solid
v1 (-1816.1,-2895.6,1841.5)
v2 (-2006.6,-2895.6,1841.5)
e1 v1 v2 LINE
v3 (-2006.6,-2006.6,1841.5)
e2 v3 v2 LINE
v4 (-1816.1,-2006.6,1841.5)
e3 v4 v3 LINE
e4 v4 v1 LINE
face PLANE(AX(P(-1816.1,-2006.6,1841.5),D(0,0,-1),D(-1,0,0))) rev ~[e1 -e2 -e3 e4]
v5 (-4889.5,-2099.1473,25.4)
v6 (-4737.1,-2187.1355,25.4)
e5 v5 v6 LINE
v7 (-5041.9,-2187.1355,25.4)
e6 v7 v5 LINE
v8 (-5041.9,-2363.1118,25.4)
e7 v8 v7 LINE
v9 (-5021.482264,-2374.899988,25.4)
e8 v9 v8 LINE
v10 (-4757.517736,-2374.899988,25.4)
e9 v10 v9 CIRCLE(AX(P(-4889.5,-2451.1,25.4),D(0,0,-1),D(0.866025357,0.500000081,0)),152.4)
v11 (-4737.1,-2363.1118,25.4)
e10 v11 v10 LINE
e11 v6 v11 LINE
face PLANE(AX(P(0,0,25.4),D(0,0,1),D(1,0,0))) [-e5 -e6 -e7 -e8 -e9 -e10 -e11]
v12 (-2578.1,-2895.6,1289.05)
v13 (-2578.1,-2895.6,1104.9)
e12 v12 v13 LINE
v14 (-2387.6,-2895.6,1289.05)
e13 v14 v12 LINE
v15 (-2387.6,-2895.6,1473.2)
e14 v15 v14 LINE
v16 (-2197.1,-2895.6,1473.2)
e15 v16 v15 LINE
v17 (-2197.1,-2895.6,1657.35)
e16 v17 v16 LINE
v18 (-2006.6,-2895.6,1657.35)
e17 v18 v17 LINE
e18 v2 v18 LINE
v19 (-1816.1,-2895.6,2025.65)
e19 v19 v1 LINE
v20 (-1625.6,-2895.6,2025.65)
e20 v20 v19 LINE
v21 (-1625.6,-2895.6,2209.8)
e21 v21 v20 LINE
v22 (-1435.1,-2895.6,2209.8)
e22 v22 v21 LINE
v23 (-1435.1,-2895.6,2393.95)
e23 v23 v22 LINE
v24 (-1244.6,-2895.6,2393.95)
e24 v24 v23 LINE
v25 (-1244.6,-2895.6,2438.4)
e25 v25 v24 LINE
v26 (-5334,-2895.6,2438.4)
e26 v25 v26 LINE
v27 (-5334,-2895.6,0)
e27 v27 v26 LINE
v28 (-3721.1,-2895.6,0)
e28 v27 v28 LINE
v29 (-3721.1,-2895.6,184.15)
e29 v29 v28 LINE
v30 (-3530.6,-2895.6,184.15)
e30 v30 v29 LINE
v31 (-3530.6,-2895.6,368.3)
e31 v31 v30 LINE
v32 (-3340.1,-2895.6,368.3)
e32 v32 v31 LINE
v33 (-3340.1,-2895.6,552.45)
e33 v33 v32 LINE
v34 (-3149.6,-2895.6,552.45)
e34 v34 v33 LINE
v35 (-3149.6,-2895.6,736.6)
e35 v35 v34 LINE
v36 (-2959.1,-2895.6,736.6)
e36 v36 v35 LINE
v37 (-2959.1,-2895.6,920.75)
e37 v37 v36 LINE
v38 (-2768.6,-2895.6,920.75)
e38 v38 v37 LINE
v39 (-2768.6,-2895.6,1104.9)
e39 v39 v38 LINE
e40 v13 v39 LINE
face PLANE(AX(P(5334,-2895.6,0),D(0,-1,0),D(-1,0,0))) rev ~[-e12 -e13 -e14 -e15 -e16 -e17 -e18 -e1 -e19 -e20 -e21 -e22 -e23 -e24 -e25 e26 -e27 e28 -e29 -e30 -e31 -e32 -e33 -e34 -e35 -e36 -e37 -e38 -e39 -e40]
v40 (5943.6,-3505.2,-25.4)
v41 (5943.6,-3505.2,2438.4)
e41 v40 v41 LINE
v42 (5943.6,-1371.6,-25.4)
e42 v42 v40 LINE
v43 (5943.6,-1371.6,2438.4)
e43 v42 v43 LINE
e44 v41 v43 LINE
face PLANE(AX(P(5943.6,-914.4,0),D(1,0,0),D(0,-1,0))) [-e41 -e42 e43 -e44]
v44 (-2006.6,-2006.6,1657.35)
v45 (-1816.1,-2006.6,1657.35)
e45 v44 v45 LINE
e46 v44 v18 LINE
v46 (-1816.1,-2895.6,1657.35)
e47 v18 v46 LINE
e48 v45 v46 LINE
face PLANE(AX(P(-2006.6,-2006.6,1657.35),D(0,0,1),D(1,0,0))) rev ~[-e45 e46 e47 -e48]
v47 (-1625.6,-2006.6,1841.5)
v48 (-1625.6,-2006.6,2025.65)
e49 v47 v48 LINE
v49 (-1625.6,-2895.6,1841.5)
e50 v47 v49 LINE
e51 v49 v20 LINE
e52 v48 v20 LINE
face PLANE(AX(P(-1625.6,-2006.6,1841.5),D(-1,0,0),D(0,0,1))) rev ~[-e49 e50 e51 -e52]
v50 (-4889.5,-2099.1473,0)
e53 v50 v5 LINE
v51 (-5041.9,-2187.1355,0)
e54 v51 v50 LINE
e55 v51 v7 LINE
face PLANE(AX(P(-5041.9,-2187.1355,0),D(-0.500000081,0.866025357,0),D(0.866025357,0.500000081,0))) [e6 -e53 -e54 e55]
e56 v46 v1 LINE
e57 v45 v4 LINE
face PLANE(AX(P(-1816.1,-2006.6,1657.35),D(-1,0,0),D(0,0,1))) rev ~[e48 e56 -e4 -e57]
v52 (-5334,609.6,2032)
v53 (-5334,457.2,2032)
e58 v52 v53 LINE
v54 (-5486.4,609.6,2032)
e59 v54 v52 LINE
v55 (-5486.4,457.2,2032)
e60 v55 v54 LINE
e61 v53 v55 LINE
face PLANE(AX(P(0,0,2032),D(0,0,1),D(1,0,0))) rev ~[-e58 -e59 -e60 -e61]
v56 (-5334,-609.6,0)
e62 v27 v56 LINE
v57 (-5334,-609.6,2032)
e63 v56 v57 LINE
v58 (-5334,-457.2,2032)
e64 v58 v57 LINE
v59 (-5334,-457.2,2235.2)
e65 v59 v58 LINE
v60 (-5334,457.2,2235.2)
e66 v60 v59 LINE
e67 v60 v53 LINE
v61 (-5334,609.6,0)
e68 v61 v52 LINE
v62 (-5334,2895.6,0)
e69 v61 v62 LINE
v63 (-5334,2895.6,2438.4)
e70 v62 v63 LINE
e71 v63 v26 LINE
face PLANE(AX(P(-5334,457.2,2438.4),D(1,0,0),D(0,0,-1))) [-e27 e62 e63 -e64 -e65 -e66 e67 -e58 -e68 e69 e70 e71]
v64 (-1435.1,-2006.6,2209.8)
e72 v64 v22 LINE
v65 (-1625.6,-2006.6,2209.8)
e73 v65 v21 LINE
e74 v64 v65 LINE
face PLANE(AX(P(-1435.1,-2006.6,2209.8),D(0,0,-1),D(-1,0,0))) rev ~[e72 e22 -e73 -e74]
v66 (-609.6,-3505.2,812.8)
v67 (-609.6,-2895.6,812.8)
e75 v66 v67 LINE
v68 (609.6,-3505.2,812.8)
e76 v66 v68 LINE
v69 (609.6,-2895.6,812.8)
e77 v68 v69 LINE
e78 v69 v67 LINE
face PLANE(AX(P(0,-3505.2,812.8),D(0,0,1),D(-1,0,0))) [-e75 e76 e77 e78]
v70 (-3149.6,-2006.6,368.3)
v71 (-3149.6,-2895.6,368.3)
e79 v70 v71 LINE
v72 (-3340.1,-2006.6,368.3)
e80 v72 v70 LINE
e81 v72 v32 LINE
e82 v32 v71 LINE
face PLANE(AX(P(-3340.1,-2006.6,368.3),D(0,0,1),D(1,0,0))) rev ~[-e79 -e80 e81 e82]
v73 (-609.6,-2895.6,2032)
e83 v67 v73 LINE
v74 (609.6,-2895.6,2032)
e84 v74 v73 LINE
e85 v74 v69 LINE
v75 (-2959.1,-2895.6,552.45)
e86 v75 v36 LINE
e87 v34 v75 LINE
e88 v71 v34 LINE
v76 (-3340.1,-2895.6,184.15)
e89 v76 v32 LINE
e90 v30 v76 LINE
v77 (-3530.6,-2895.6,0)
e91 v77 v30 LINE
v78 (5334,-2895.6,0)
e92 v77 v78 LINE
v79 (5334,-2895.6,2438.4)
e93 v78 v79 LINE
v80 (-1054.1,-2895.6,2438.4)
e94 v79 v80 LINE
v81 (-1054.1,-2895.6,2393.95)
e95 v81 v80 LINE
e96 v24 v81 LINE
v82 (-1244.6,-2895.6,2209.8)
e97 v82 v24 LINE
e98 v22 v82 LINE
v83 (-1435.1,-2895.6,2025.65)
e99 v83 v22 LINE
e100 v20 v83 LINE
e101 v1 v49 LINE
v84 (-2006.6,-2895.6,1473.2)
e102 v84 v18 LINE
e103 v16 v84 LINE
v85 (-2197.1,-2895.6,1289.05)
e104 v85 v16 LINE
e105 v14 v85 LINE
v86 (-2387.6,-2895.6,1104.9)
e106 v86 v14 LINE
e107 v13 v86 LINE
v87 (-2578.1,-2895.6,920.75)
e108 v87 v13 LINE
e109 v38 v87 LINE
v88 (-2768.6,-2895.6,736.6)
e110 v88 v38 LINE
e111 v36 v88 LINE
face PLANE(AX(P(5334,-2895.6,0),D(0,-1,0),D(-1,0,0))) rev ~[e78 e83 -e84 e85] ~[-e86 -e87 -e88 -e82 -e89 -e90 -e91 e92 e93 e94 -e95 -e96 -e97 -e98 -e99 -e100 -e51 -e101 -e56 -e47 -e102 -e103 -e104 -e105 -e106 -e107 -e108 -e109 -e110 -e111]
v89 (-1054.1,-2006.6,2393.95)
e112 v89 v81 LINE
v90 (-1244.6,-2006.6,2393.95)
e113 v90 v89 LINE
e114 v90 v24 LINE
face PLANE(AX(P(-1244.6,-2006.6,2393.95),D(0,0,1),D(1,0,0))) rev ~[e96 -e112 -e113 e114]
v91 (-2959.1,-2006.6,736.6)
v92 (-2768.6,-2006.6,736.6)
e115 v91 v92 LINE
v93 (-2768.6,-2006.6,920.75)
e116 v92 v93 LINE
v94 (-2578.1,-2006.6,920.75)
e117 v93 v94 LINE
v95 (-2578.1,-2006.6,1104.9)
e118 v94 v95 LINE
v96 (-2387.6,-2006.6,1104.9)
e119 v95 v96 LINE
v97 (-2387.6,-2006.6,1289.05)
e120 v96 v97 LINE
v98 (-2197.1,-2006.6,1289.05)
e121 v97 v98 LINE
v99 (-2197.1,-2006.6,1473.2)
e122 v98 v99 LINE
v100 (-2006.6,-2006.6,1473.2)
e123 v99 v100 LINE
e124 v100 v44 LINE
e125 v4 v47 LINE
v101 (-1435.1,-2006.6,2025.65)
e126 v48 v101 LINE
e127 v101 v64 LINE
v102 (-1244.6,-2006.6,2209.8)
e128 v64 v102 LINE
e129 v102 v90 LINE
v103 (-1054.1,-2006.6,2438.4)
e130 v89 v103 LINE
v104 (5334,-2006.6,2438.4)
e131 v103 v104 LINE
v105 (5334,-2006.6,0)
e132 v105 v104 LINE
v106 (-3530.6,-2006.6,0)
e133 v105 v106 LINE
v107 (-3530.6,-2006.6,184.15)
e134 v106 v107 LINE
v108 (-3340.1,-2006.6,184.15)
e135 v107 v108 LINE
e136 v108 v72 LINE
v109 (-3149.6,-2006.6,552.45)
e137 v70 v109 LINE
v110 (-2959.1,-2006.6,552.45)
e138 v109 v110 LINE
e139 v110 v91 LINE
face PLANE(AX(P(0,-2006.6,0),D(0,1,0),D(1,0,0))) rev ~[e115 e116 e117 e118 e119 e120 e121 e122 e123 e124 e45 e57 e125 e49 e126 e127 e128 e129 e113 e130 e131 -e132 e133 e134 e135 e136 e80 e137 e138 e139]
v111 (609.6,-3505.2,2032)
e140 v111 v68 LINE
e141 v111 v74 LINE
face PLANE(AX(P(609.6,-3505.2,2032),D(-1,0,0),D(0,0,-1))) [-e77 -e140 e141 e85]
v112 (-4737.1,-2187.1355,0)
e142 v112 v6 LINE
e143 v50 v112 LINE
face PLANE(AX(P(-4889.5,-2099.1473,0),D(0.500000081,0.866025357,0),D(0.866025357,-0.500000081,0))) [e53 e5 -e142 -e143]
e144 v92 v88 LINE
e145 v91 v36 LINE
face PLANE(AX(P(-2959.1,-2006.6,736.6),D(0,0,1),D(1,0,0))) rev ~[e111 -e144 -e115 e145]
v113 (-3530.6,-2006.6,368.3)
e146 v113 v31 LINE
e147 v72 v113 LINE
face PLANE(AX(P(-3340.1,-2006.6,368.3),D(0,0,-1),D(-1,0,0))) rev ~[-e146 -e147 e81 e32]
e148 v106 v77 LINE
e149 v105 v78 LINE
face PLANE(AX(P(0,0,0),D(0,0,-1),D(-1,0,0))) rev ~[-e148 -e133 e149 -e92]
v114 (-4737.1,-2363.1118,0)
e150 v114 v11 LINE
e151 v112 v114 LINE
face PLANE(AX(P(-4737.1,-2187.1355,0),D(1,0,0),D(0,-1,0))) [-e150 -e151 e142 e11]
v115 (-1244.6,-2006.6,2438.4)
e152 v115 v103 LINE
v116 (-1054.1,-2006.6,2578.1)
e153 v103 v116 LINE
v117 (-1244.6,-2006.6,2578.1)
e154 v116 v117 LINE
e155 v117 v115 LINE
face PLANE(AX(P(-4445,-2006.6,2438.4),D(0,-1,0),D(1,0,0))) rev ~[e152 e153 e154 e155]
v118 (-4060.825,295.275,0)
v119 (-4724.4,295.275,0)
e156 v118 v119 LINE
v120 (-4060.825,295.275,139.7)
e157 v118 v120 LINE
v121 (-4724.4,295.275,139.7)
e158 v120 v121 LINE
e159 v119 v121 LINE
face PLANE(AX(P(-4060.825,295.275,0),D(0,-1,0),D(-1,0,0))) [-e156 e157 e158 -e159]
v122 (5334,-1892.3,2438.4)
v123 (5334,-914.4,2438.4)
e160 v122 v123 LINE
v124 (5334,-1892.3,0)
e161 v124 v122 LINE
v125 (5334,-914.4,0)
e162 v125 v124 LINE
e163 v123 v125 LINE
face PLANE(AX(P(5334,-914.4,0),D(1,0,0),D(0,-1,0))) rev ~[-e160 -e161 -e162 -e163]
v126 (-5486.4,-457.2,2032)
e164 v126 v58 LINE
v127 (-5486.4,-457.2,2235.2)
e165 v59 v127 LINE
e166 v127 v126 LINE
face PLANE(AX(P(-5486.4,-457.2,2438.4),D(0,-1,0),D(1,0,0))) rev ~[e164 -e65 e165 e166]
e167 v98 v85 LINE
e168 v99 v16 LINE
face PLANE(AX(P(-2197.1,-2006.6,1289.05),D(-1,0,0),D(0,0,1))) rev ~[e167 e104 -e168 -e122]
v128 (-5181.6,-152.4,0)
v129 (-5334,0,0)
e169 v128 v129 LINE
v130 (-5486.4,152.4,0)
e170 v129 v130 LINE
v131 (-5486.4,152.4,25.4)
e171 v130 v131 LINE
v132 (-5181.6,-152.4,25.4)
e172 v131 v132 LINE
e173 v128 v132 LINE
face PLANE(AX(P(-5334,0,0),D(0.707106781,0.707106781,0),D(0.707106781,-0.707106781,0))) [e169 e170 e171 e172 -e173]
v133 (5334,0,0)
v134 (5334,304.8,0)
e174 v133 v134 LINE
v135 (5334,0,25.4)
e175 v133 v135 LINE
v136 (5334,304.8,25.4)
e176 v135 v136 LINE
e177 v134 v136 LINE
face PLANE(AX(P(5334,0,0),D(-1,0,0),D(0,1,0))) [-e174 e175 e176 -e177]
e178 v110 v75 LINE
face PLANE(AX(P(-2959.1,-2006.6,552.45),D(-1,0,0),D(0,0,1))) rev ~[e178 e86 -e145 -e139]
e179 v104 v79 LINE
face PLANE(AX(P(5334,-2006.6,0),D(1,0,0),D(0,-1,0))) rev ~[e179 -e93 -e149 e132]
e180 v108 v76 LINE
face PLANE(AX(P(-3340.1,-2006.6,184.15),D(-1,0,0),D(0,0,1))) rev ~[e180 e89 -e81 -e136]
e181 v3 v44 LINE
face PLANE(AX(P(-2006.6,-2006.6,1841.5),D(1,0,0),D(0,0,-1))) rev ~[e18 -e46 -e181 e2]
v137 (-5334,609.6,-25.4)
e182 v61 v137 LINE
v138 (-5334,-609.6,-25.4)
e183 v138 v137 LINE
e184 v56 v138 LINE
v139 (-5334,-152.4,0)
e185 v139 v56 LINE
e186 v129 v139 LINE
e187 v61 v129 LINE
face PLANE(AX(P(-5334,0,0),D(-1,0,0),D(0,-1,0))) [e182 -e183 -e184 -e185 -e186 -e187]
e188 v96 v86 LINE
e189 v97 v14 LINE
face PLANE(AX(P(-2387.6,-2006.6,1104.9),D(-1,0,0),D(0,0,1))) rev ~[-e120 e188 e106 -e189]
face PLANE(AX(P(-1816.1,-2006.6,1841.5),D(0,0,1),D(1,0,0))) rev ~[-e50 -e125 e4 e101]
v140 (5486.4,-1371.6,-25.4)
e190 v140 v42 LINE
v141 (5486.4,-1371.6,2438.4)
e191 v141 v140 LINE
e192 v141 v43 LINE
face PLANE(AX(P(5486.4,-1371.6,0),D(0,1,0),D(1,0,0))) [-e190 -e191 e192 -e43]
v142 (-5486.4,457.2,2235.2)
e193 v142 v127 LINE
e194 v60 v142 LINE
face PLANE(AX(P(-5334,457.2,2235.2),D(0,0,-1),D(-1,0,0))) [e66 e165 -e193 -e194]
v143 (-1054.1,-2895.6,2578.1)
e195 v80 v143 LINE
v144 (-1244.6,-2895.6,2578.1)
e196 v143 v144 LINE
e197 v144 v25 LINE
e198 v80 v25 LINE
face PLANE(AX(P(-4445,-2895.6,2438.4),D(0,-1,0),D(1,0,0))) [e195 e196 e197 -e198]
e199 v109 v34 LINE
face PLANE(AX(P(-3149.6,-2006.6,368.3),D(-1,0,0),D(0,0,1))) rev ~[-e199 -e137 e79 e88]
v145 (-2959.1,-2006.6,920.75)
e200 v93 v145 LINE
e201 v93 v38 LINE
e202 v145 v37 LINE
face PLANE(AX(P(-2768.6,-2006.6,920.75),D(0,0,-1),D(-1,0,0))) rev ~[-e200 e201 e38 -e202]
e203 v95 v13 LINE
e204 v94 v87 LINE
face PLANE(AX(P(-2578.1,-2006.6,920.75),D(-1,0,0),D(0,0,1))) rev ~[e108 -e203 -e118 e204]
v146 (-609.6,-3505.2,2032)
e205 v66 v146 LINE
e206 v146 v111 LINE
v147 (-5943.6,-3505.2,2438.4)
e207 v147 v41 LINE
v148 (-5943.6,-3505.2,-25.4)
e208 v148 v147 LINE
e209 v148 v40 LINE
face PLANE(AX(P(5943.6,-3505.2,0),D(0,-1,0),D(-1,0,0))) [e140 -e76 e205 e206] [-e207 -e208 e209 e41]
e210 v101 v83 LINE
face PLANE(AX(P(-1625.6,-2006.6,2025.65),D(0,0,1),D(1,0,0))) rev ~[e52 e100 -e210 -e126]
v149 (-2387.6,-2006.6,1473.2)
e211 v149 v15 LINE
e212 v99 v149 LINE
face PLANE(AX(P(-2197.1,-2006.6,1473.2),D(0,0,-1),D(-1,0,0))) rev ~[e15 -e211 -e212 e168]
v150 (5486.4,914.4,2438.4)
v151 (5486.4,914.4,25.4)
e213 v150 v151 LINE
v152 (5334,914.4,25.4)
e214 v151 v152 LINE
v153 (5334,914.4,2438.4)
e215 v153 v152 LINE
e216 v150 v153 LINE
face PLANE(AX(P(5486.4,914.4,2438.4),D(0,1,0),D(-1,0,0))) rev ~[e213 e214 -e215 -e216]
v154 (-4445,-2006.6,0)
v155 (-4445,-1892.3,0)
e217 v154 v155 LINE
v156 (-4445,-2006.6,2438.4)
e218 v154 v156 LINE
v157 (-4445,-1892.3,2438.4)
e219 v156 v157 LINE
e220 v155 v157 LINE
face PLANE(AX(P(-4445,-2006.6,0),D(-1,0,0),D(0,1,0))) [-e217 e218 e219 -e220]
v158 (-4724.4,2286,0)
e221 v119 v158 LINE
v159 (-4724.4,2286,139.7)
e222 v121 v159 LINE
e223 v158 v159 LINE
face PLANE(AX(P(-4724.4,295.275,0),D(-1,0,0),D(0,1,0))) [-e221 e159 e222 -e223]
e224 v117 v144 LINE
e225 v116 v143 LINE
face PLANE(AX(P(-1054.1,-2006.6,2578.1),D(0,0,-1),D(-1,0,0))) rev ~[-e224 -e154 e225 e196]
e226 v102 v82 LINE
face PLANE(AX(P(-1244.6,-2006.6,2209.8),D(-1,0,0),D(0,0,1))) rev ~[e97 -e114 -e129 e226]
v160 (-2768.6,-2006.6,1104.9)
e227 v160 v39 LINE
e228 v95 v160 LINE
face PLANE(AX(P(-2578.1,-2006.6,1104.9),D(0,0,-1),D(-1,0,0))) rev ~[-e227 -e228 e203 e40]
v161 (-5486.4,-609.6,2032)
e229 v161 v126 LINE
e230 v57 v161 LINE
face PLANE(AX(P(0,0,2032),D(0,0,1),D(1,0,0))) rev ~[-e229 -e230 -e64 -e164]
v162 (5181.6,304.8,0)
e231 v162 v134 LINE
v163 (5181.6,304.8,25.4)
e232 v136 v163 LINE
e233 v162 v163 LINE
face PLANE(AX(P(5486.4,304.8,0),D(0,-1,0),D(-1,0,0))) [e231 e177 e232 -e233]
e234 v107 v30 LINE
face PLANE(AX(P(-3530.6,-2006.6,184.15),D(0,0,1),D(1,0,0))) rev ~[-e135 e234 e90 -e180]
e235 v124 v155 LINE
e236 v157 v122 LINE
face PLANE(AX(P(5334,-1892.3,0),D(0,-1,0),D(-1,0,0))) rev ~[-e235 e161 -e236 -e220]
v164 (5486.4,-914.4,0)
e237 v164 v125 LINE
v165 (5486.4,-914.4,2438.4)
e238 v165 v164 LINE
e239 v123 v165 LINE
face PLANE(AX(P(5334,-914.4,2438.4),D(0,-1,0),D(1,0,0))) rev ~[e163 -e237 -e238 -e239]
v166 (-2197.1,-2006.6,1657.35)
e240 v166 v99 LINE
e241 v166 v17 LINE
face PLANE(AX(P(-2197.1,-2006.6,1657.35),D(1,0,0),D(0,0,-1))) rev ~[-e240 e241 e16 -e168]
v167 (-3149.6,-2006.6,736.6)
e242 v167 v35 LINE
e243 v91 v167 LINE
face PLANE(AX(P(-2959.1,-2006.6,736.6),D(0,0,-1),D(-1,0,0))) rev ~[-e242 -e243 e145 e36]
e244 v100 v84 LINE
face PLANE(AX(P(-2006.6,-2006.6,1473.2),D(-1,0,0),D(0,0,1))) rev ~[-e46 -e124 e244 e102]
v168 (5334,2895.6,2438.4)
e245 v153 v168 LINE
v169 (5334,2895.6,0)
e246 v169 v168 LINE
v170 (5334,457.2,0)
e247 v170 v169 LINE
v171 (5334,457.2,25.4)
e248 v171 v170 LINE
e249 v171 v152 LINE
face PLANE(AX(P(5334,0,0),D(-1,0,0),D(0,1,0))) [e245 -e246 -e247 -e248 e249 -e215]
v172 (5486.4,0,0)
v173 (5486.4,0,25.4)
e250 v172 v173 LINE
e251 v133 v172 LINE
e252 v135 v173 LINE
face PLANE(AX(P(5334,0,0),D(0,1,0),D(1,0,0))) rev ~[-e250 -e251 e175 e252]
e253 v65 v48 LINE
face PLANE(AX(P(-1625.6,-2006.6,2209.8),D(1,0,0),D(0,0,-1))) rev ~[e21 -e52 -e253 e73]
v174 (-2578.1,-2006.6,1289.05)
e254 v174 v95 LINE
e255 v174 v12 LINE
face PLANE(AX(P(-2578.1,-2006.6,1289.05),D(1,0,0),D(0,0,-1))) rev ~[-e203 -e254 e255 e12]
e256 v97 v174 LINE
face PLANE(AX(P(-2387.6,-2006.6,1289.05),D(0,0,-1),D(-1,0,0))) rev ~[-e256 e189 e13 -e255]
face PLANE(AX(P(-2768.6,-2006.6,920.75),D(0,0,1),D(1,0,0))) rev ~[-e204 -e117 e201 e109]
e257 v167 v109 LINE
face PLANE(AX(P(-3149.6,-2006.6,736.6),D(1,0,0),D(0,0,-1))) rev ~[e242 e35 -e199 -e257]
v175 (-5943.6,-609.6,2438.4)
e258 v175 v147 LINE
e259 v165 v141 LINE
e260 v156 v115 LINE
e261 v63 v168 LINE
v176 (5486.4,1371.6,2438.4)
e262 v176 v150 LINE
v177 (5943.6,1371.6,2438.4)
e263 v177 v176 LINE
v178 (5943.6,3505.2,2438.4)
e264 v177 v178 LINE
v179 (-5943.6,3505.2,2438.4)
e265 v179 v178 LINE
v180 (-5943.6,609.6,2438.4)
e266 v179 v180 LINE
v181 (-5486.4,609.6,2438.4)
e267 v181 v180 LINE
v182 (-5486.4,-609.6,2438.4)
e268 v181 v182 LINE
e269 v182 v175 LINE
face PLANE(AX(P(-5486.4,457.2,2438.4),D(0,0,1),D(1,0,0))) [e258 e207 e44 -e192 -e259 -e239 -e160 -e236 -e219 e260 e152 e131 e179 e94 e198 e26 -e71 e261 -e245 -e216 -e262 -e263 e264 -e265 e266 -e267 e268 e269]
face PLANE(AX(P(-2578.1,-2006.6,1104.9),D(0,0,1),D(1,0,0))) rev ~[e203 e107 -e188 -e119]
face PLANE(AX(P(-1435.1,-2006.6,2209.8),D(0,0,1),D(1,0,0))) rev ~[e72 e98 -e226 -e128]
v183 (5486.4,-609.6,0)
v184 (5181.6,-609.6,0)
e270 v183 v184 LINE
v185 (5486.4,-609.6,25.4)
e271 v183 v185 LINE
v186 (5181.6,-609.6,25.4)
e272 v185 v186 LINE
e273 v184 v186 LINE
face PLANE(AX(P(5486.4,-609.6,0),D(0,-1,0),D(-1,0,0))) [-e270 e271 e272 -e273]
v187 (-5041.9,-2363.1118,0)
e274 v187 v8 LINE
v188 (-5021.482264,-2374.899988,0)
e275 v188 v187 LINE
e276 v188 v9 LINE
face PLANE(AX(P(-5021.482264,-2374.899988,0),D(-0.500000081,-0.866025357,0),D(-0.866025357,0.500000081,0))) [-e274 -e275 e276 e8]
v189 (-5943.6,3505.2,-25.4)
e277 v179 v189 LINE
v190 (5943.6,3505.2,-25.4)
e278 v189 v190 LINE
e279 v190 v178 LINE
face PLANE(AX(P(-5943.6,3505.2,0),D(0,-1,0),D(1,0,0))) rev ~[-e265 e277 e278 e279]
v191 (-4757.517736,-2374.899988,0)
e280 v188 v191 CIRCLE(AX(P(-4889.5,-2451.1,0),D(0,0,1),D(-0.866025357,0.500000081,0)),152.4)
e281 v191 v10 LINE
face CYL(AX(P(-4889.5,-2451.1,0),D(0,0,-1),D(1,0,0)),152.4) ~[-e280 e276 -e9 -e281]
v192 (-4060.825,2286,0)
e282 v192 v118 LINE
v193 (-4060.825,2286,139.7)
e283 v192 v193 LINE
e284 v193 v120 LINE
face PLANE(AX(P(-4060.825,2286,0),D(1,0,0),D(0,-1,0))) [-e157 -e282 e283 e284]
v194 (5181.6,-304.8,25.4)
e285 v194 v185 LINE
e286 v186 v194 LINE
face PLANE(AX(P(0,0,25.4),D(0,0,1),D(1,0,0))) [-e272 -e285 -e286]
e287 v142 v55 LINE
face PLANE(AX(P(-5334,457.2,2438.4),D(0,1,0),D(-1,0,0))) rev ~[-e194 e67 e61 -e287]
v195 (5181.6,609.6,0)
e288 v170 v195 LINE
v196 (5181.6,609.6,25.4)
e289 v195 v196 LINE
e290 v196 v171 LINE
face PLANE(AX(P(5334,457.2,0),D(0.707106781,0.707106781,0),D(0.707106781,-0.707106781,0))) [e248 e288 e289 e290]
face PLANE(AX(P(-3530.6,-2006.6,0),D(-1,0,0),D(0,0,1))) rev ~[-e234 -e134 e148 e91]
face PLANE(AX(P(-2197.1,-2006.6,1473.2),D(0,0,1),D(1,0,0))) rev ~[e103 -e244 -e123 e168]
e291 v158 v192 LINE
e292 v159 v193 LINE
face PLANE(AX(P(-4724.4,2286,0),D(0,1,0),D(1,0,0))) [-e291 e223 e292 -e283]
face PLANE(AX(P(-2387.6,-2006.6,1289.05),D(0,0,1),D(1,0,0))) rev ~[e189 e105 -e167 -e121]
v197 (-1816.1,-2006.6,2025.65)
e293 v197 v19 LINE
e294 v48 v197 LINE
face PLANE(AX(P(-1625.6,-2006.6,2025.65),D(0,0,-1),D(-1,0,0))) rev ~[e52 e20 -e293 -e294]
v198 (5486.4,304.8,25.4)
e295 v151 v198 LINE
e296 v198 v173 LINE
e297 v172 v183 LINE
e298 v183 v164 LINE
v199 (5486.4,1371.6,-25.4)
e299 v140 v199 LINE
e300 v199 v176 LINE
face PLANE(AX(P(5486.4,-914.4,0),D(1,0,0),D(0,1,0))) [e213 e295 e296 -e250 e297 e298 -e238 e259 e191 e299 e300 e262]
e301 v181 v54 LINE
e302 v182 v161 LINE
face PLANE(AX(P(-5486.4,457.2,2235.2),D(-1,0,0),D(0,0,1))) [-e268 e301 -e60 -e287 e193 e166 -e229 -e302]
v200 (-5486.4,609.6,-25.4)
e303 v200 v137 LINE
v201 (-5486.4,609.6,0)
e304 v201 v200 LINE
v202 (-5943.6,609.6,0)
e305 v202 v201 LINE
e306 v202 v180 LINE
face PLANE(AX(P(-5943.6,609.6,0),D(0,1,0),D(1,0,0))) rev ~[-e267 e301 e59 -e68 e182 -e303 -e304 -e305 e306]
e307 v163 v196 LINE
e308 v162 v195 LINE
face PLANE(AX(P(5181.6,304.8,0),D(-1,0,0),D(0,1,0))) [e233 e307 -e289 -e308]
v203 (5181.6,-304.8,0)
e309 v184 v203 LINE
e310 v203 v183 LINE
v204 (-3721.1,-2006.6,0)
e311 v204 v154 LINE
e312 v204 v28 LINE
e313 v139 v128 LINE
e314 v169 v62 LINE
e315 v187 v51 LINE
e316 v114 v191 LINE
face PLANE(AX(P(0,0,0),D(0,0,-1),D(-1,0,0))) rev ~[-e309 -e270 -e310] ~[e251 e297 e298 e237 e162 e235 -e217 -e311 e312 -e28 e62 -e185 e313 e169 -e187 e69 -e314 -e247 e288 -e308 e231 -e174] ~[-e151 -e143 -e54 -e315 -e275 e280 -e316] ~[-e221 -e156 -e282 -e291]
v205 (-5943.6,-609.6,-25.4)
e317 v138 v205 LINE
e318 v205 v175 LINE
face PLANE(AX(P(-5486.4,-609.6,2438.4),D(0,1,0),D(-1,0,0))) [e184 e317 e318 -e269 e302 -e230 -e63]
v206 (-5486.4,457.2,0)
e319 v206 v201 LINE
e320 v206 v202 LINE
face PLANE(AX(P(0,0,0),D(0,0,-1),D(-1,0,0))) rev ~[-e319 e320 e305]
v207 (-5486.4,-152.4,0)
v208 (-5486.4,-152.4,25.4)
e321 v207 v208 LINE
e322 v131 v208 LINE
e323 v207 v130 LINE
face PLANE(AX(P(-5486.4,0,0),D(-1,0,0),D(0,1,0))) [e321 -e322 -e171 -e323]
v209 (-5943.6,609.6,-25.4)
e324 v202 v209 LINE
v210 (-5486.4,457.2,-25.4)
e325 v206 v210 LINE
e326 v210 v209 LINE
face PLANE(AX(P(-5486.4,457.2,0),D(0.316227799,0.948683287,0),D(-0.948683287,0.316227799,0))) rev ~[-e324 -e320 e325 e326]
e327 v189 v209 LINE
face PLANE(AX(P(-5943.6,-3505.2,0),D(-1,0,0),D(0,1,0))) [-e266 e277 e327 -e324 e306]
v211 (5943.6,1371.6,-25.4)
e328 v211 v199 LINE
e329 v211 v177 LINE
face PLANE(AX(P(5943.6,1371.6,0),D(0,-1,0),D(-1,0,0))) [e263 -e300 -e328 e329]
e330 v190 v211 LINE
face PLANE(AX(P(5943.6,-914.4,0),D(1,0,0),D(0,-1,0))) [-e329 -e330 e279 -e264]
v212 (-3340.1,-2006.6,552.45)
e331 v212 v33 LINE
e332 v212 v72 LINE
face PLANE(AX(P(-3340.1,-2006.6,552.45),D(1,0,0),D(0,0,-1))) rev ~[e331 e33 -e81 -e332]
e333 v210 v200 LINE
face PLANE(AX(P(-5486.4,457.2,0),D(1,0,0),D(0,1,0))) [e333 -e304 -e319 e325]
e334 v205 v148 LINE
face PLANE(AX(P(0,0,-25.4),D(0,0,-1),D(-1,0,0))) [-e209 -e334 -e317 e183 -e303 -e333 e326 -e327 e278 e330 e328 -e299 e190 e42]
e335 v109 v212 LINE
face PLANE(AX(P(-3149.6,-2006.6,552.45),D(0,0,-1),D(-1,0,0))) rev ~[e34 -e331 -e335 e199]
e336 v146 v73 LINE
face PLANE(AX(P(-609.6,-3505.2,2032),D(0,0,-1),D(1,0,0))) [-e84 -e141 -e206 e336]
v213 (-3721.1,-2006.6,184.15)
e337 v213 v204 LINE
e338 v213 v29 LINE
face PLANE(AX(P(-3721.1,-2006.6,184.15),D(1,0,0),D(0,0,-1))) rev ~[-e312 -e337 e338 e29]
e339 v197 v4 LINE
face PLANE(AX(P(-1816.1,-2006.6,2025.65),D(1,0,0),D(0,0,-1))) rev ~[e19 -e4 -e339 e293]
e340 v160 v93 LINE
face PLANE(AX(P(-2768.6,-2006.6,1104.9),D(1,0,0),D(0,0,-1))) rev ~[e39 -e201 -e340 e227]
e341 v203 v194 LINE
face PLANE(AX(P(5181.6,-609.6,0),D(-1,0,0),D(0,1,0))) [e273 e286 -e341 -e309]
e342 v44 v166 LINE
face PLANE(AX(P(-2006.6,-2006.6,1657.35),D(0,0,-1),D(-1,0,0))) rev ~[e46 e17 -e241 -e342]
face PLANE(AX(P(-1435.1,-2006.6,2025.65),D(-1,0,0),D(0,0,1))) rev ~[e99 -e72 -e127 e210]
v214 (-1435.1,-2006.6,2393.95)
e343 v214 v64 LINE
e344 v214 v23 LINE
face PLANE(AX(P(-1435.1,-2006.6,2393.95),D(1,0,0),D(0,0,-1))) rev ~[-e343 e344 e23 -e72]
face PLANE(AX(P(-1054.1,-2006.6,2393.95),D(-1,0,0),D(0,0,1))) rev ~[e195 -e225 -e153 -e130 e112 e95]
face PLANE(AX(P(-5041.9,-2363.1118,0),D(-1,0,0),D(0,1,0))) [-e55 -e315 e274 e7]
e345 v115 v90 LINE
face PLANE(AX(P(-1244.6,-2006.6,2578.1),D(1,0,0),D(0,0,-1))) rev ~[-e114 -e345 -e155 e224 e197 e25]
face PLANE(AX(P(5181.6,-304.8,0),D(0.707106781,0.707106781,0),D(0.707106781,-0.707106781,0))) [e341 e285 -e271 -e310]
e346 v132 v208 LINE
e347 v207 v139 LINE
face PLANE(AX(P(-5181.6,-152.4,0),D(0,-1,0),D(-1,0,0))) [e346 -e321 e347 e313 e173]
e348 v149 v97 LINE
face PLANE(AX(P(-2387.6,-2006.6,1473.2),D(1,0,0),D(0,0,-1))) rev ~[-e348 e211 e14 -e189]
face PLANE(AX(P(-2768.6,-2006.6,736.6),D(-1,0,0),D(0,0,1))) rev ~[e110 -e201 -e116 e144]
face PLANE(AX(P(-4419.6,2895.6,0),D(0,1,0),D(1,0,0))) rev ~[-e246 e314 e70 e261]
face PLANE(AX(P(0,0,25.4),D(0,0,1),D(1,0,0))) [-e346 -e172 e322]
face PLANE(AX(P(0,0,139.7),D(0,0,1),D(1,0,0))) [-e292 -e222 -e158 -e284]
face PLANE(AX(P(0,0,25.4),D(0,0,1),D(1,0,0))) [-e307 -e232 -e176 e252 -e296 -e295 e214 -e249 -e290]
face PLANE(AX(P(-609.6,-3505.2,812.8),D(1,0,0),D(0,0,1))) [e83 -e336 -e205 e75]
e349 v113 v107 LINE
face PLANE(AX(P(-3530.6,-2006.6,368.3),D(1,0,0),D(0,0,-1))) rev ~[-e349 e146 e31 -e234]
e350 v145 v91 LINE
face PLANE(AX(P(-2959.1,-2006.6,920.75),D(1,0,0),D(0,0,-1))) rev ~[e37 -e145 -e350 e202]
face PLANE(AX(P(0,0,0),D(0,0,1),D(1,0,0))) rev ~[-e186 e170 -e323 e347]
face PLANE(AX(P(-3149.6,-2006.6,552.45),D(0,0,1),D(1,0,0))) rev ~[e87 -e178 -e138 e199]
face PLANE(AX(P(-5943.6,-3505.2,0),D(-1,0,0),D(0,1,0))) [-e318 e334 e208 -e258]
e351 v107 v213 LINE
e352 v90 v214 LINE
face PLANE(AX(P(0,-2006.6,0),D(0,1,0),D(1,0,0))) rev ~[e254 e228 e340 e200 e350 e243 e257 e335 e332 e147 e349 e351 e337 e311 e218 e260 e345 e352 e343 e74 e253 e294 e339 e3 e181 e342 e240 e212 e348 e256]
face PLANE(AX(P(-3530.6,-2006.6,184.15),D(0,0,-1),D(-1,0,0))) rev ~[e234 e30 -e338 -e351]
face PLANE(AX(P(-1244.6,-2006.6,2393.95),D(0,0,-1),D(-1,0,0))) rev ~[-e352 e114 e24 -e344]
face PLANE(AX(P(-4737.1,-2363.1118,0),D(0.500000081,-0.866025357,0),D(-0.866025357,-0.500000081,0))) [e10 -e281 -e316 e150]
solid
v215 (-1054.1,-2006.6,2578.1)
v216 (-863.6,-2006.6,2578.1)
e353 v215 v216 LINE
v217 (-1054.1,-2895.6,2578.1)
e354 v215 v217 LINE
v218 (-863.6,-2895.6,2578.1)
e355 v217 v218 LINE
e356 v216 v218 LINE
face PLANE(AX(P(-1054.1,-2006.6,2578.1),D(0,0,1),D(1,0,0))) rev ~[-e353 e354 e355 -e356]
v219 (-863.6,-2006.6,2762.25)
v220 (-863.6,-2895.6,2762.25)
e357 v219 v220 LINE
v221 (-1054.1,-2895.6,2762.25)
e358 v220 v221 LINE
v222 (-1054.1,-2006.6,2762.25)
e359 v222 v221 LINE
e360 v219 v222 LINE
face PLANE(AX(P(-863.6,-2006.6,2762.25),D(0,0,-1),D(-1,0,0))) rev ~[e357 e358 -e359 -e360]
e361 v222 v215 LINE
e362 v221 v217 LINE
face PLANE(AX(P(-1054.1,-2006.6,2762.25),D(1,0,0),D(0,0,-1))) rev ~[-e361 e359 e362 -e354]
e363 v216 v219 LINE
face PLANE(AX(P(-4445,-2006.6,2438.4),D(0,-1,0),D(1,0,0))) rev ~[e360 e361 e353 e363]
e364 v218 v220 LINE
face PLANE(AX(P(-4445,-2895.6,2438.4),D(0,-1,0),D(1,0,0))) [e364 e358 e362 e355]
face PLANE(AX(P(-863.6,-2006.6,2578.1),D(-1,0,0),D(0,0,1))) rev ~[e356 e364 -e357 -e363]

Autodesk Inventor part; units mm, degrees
ref_plane "YZ Plane" through (0, 0, 0) normal (1, 0, 0) x (0, 1, 0)
ref_plane "XZ Plane" through (0, 0, 0) normal (0, 1, 0) x (-1, 0, 0)
ref_plane "XY Plane" through (0, 0, 0) normal (0, 0, 1) x (1, 0, 0)
sketch "Sketch1" plane through (0, 0, 0) normal (0, 0, 1) x (1, 0, 0)
  line L0 (-8321.04, 0) -> (8321.04, 0) projected
  line L1 (-5943.6, 3505.2) -> (5943.6, 3505.2)
  line L2 (-5334, 2895.6) -> (5334, 2895.6)
  line L3 (-4572, 2895.6) -> (-4419.6, 2895.6)
  line L4 (-1981.2, -2006.6) -> (-4445, -2006.6)
  line L5 (-4445, -2006.6) -> (-4445, -1892.3)
  line L6 (-1219.2, -2895.6) -> (-1066.8, -2895.6)
  line L7 (5334, -2895.6) -> (0, -2895.6)
  line L8 (0, -2895.6) -> (-5334, -2895.6)
  line L9 (5943.6, -3505.2) -> (0, -3505.2)
  line L10 (0, -3505.2) -> (-5943.6, -3505.2)
  line L11 (5334, 914.4) -> (5943.6, 914.4)
  line L12 (5943.6, -914.4) -> (5334, -914.4)
  line L13 (5334, 2895.6) -> (5334, 914.4)
  line L14 (5334, -914.4) -> (5334, -2895.6)
  line L15 (5943.6, 3505.2) -> (5943.6, 914.4)
  line L16 (5943.6, -914.4) -> (5943.6, -3505.2)
  line L17 (-4445, -2006.6) -> (5334, -2006.6)
  line L18 (5334, -1892.3) -> (-4445, -1892.3)
  line L19 (-4445, -1892.3) -> (-4445, -2006.6)
  line L20 (5334, -1892.3) -> (5334, -2006.6)
  line L21 (-5943.6, 609.6) -> (-5334, 609.6)
  line L22 (-5334, -609.6) -> (-5943.6, -609.6)
  line L23 (-5943.6, -3505.2) -> (-5943.6, -609.6)
  line L24 (-5943.6, 609.6) -> (-5943.6, 3505.2)
  line L25 (-5334, -2895.6) -> (-5334, -609.6)
  line L26 (-5334, 609.6) -> (-5334, 2895.6)
  line L27 (-4445, -2006.6) -> (-4419.6, -2006.6)
  line L28 (-4419.6, 2895.6) -> (-4572, 2895.6)
  line L29 (-4445, -1892.3) -> (-4445, -2006.6)
  line L30 (0, -4907.28) -> (0, 4907.28) projected
  dimension "d202" = 0
  dimension "d18" = 7010.4
  dimension "d19" = 609.6
  dimension "d20" = 609.6
  dimension "d23" = 1828.8
  dimension "d24" = 2590.8
  dimension "d25" = 609.6
  dimension "d28" = 114.3
  dimension "d29" = 0
  dimension "d34" = 1219.2
  dimension "d35" = 2895.6
  dimension "d36" = 609.6
  dimension "d46" = 889
  dimension "d105" = 889
  dimension "d106" = 11887.2
extrude "Extrusion9" add sketch "Sketch1" along normal blind 2438.4 contours L18 L14 L17 L30 | L30 L17 L4 L5 L18 | L1 L30 L2 L26 L21 L24 | L1 L15 L11 L13 L2 L30 | L14 L12 L16 L9 L30 L7 | L30 L10 L23 L22 L25 L8 L6
sketch "Sketch8" plane through (0, 0, 0) normal (0, 0, -1) x (-1, 0, 0)
  line L0 (5943.6, 3505.2) -> (-5943.6, 3505.2) projected
  line L1 (-5943.6, 3505.2) -> (-5943.6, 914.4) projected
  line L2 (-5943.6, 914.4) -> (-5334, 914.4) projected
  line L3 (-5334, 914.4) -> (-5334, 2895.6) projected
  line L4 (-5334, 2895.6) -> (5334, 2895.6) projected
  line L5 (5334, 2895.6) -> (5334, 609.6) projected
  line L6 (5334, 609.6) -> (5943.6, 609.6) projected
  line L7 (5943.6, 609.6) -> (5943.6, 3505.2) projected
  line L8 (-5943.6, 3505.2) -> (5943.6, 3505.2)
  line L9 (5943.6, 3505.2) -> (5943.6, -3505.2)
  line L10 (5943.6, -3505.2) -> (-5943.6, -3505.2)
  line L11 (-5943.6, -3505.2) -> (-5943.6, 3505.2)
  point P0 (0, 0)
extrude "Extrusion10" add sketch "Sketch8" along normal blind 25.4
sketch "Sketch9" plane through (0, 0, 2438.4) normal (0, 0, 1) x (1, 0, 0)
  line L0 (5943.6, 3505.2) -> (-5943.6, 3505.2) projected
  line L1 (-5943.6, 3505.2) -> (-5943.6, 609.6) projected
  line L2 (-5943.6, 609.6) -> (-5334, 609.6) projected
  line L3 (-5334, 609.6) -> (-5334, 2895.6) projected
  line L4 (-5334, 2895.6) -> (5334, 2895.6) projected
  line L5 (5334, 2895.6) -> (5334, 914.4) projected
  line L6 (5334, 914.4) -> (5943.6, 914.4) projected
  line L7 (5943.6, 914.4) -> (5943.6, 3505.2) projected
  line L8 (-5943.6, 609.6) -> (-5334, 609.6)
  line L9 (-5334, 609.6) -> (-5334, -609.6)
  line L10 (-5334, -609.6) -> (-5943.6, -609.6)
  line L11 (-5943.6, -609.6) -> (-5943.6, 609.6)
  line L12 (5334, 914.4) -> (5943.6, 914.4)
  line L13 (5943.6, 914.4) -> (5943.6, -914.4)
  line L14 (5943.6, -914.4) -> (5334, -914.4)
  line L15 (5334, -914.4) -> (5334, 914.4)
  point P0 (0, 0)
extrude "Extrusion11" add sketch "Sketch9" against normal blind 406.4 contours L13 L14 L15 L6 | L2 L9 L10 L11
sketch "Sketch10" plane through (-4445, -2006.6, 2438.4) normal (0, -1, 0) x (1, 0, 0)
  line L0 (0, -2438.4) -> (9779, -2438.4) projected
  line L1 (0, -2438.4) -> (0, 0) projected
  line L2 (723.9, -2438.4) -> (914.4, -2438.4)
  line L3 (914.4, -2438.4) -> (914.4, -2254.25)
  line L4 (914.4, -2254.25) -> (723.9, -2254.25)
  line L5 (723.9, -2254.25) -> (723.9, -2438.4)
  line L6 (914.4, -2254.25) -> (1104.9, -2254.25)
  line L7 (1104.9, -2254.25) -> (1104.9, -2070.1)
  line L8 (1104.9, -2070.1) -> (914.4, -2070.1)
  line L9 (914.4, -2070.1) -> (914.4, -2254.25)
  line L10 (1104.9, -2070.1) -> (1295.4, -2070.1)
  line L11 (1295.4, -2070.1) -> (1295.4, -1885.95)
  line L12 (1295.4, -1885.95) -> (1104.9, -1885.95)
  line L13 (1104.9, -1885.95) -> (1104.9, -2070.1)
  line L14 (1295.4, -1885.95) -> (1485.9, -1885.95)
  line L15 (1485.9, -1885.95) -> (1485.9, -1701.8)
  line L16 (1485.9, -1701.8) -> (1295.4, -1701.8)
  line L17 (1295.4, -1701.8) -> (1295.4, -1885.95)
  line L18 (1485.9, -1701.8) -> (1676.4, -1701.8)
  line L19 (1676.4, -1701.8) -> (1676.4, -1517.65)
  line L20 (1676.4, -1517.65) -> (1485.9, -1517.65)
  line L21 (1485.9, -1517.65) -> (1485.9, -1701.8)
  line L22 (1676.4, -1517.65) -> (1866.9, -1517.65)
  line L23 (1866.9, -1517.65) -> (1866.9, -1333.5)
  line L24 (1866.9, -1333.5) -> (1676.4, -1333.5)
  line L25 (1676.4, -1333.5) -> (1676.4, -1517.65)
  line L26 (1866.9, -1333.5) -> (2057.4, -1333.5)
  line L27 (2057.4, -1333.5) -> (2057.4, -1149.35)
  line L28 (2057.4, -1149.35) -> (1866.9, -1149.35)
  line L29 (1866.9, -1149.35) -> (1866.9, -1333.5)
  line L30 (2438.4, -965.2) -> (2438.4, -781.05)
  line L31 (2247.9, -1149.35) -> (2247.9, -965.2)
  line L32 (2247.9, -965.2) -> (2438.4, -965.2)
  line L33 (2438.4, -781.05) -> (2247.9, -781.05)
  line L34 (2247.9, -781.05) -> (2247.9, -965.2)
  line L35 (2057.4, -1149.35) -> (2247.9, -1149.35)
  line L36 (2247.9, -965.2) -> (2057.4, -965.2)
  line L37 (2057.4, -965.2) -> (2057.4, -1149.35)
  line L38 (2628.9, -781.05) -> (2628.9, -596.9)
  line L39 (2438.4, -781.05) -> (2628.9, -781.05)
  line L40 (2628.9, -596.9) -> (2438.4, -596.9)
  line L41 (2438.4, -596.9) -> (2438.4, -781.05)
  line L42 (3200.4, -228.6) -> (3200.4, -44.45)
  line L43 (3200.4, 139.7) -> (3200.4, -44.45)
  line L44 (3200.4, -44.45) -> (3390.9, -44.45)
  line L45 (3390.9, 139.7) -> (3200.4, 139.7)
  line L46 (3009.9, -44.45) -> (3009.9, -228.6)
  line L47 (3009.9, -228.6) -> (3200.4, -228.6)
  line L48 (3200.4, -44.45) -> (3009.9, -44.45)
  line L49 (3390.9, -44.45) -> (3390.9, 139.7)
  line L50 (3009.9, -412.75) -> (3009.9, -228.6)
  line L51 (3009.9, -228.6) -> (2819.4, -228.6)
  line L52 (2819.4, -412.75) -> (3009.9, -412.75)
  line L53 (2819.4, -228.6) -> (2819.4, -412.75)
  line L54 (2819.4, -596.9) -> (2819.4, -412.75)
  line L55 (2819.4, -412.75) -> (2628.9, -412.75)
  line L56 (2628.9, -596.9) -> (2819.4, -596.9)
  line L57 (2628.9, -412.75) -> (2628.9, -596.9)
  line L58 (3390.9, 139.7) -> (3581.4, 139.7)
  line L59 (3581.4, 139.7) -> (3581.4, 323.85)
  line L60 (3581.4, 323.85) -> (3390.9, 323.85)
  line L61 (3390.9, 323.85) -> (3390.9, 139.7)
  point P0 (8445.5, -2438.4)
  point P1 (4445, -2438.4)
  dimension "d113" = 190.5
  dimension "d115" = 184.15
  dimension "d116" = 723.9
  dimension "d117" = 190.5
  dimension "d118" = 184.15
  dimension "d119" = 190.5
  dimension "d120" = 184.15
  dimension "d121" = 190.5
  dimension "d122" = 184.15
  dimension "d123" = 190.5
  dimension "d124" = 184.15
  dimension "d125" = 190.5
  dimension "d126" = 184.15
  dimension "d127" = 190.5
  dimension "d128" = 184.15
  dimension "d129" = 190.5
  dimension "d130" = 184.15
  dimension "d131" = 190.5
  dimension "d132" = 184.15
  dimension "d133" = 190.5
  dimension "d134" = 184.15
  dimension "d135" = 190.5
  dimension "d136" = 184.15
  dimension "d137" = 190.5
  dimension "d138" = 184.15
  dimension "d139" = 190.5
  dimension "d140" = 184.15
  dimension "d141" = 190.5
  dimension "d142" = 184.15
  dimension "d154" = 184.15
  dimension "d155" = 190.5
extrude "Extrusion12" add sketch "Sketch10" along normal up to surface (889 mm away)
sketch "Sketch11" plane through (-5943.6, -3505.2, 2438.4) normal (0, -1, 0) x (1, 0, 0)
  line L0 (5334, -406.4) -> (6553.2, -406.4)
  line L1 (6553.2, -406.4) -> (6553.2, -1625.6)
  line L2 (6553.2, -1625.6) -> (5334, -1625.6)
  line L3 (5334, -1625.6) -> (5334, -406.4)
  line L4 (11277.6, -2438.4) -> (2413, -2438.4) projected
  line L5 (5943.6, -2956.56) -> (5943.6, 492.76) projected
  point P0 (5943.6, -2438.4)
  dimension "d145" = 1219.2
  dimension "d147" = 1219.2
  dimension "d148" = 812.8
extrude "Extrusion13" cut sketch "Sketch11" against normal up to surface (609.6 mm away)
sketch "Sketch14" plane through (0, 0, 2032) normal (0, 0, -1) x (-1, 0, 0)
  line L0 (-5334, -914.4) -> (-5334, 914.4) projected
  line L1 (-5943.6, 914.4) -> (-5943.6, -914.4) projected
  line L2 (-8321.04, 0) -> (8321.04, 0) projected
  line L3 (-5943.6, 12.7) -> (-5334, 12.7)
  line L4 (-5334, 12.7) -> (-5334, -12.7)
  line L5 (-5334, -12.7) -> (-5943.6, -12.7)
  line L6 (-5943.6, -12.7) -> (-5943.6, 12.7)
  point P0 (0, 0)
  dimension "d156" = 25.4
extrude "Extrusion15" add sketch "Sketch14" along normal blind 25.4
sketch "Sketch15" plane through (0, 0, 0) normal (0, 0, 1) x (1, 0, 0)
  line L0 (5334, -914.4) -> (5334, -1892.3) projected
  line L1 (5943.6, -914.4) -> (5334, -914.4) projected
  line L2 (5943.6, 914.4) -> (5334, 914.4) projected
  line L3 (5334, 914.4) -> (5334, 2895.6) projected
  line L4 (-5334, 2895.6) -> (-5334, 609.6) projected
  line L5 (-5334, -609.6) -> (-5943.6, -609.6) projected
  line L6 (-3721.1, -2895.6) -> (-5334, -2895.6) projected
  line L7 (-8321.04, 0) -> (8321.04, 0) projected
  circle A0 centre (1778, 0) radius 152.4
  line L8 (-4445, -2006.6) -> (-5334, -2006.6)
  line L9 (-5334, -2006.6) -> (-5334, -2895.6)
  line L10 (-5334, -2895.6) -> (-4445, -2895.6)
  line L11 (-4445, -2895.6) -> (-4445, -2006.6)
  circle A1 centre (-4889.5, -2451.1) radius 152.4
  line L12 (-5181.6, -152.4) -> (-5486.4, -152.4)
  line L13 (-5486.4, -152.4) -> (-5486.4, 152.4)
  line L14 (-5486.4, 152.4) -> (-5181.6, -152.4)
  line L15 (5486.4, 304.8) -> (5181.6, 304.8)
  line L16 (5181.6, 304.8) -> (5181.6, 609.6)
  line L17 (5181.6, 609.6) -> (5486.4, 304.8)
  line L18 (5486.4, -609.6) -> (5181.6, -609.6)
  line L19 (5181.6, -304.8) -> (5486.4, -609.6)
  line L20 (5181.6, -609.6) -> (5181.6, -304.8)
  line L21 (-5943.6, -3505.2) -> (-5943.6, 3505.2) projected
  line L22 (-5334, -609.6) -> (-5943.6, -609.6)
  line L23 (-5943.6, -609.6) -> (-5943.6, 609.6)
  line L24 (-5943.6, 609.6) -> (-5334, 609.6)
  line L25 (-5334, 609.6) -> (-5334, -609.6)
  line L26 (-5486.4, 609.6) -> (-5334, 609.6)
  line L27 (-5334, 609.6) -> (-5334, 457.2)
  line L28 (-5334, 457.2) -> (-5486.4, 457.2)
  line L29 (-5486.4, 457.2) -> (-5486.4, 609.6)
  line L30 (-5334, -609.6) -> (-5486.4, -609.6)
  line L31 (-5486.4, -609.6) -> (-5486.4, -457.2)
  line L32 (-5486.4, -457.2) -> (-5334, -457.2)
  line L33 (-5334, -457.2) -> (-5334, -609.6)
  line L34 (5943.6, 3505.2) -> (5943.6, -3505.2) projected
  line L35 (5486.4, 914.4) -> (5943.6, 914.4)
  line L36 (5943.6, 914.4) -> (5943.6, 1371.6)
  line L37 (5943.6, 1371.6) -> (5486.4, 1371.6)
  line L38 (5486.4, 1371.6) -> (5486.4, 914.4)
  line L39 (5943.6, -914.4) -> (5486.4, -914.4)
  line L40 (5486.4, -914.4) -> (5486.4, -1371.6)
  line L41 (5486.4, -1371.6) -> (5943.6, -1371.6)
  line L42 (5943.6, -1371.6) -> (5943.6, -914.4)
  line L43 (5486.4, 914.4) -> (6132.9784, 1560.9784)
  line L44 (6132.9784, 1560.9784) -> (6240.7415, 1453.2154)
  line L45 (6240.7415, 1453.2154) -> (5594.1631, 806.6369)
  line L46 (5486.4, 914.4) -> (5594.1631, 806.6369)
  line L47 (5486.4, -914.4) -> (6132.9784, -1560.9784)
  line L48 (6132.9784, -1560.9784) -> (6240.7415, -1453.2154)
  line L49 (6240.7415, -1453.2154) -> (5594.1631, -806.6369)
  line L50 (5486.4, -914.4) -> (5594.1631, -806.6369)
  line L51 (5486.4, 1371.6) -> (5943.6, 1371.6)
  line L52 (5943.6, 1371.6) -> (5943.6, -1371.6)
  line L53 (5943.6, -1371.6) -> (5486.4, -1371.6)
  line L54 (5486.4, -1371.6) -> (5486.4, 1371.6)
  line L55 (-5486.4, 457.2) -> (-6353.876, 746.3587)
  line L56 (-6353.876, 746.3587) -> (-6402.0691, 601.7793)
  line L57 (-6402.0691, 601.7793) -> (-5534.5931, 312.6207)
  line L58 (-5486.4, 457.2) -> (-5534.5931, 312.6207)
  line L59 (5334, 914.4) -> (5486.4, 914.4)
  line L60 (5486.4, 914.4) -> (5486.4, 0)
  line L61 (5486.4, 0) -> (5334, 0)
  line L62 (5334, 0) -> (5334, 914.4)
  line L63 (-4889.5, -2451.1) -> (-5041.9, -2363.1118)
  line L64 (-5041.9, -2363.1118) -> (-5041.9, -2187.1355)
  line L65 (-5041.9, -2187.1355) -> (-4889.5, -2099.1473)
  line L66 (-4889.5, -2099.1473) -> (-4737.1, -2187.1355)
  line L67 (-4737.1, -2187.1355) -> (-4737.1, -2363.1118)
  line L68 (-4737.1, -2363.1118) -> (-4889.5, -2451.1)
  circle A2 centre (-1778, 0) radius 152.4
  point P0 (0, 0)
  point P1 (-5334, 0)
  point P2 (1.5875, 1.5875)
  point P3 (770.0638, -2405.9824)
  point P4 (-4729.4618, 0)
  point P5 (5334, 457.2)
  point P6 (5334, -457.2)
  point P7 (-4889.5, -2275.1236)
  dimension "d161" = 304.8
  dimension "d165" = 7112
  dimension "d166" = 304.8
  dimension "d167" = 444.5
  dimension "d172" = 304.8
  dimension "d173" = 304.8
  dimension "d174" = 152.4
  dimension "d176" = 304.8
  dimension "d177" = 304.8
  dimension "d180" = 304.8
  dimension "d181" = 304.8
  dimension "d184" = 457.2
  dimension "d192" = 152.4
  dimension "d193" = 152.4
  dimension "d194" = 152.4
  dimension "d195" = 457.2
  dimension "d196" = 457.2
  dimension "d197" = 457.2
  dimension "d198" = 457.2
  dimension "d199" = 914.4
  dimension "d200" = 152.4
  dimension "d215" = 152.4
  dimension "d216" = 914.4
  dimension "d231" = 304.8
  dimension "d232" = 444.5
  dimension "d237" = 304.8
  dimension "d238" = 3556
extrude "Extrusion18" add sketch "Sketch15" along normal blind 25.4 contours L18 L20 L19 | L15 L62 L17 | L15 L16 L17 L62
extrude "Extrusion19" cut sketch "Sketch15" along normal up to surface (2438.4 mm away) contours L34 L49 L1 | L1 L49 L50 L54 L7 L34 | L49 L34 L47 L1 | L1 L50 L49 | L7 L54 L46 L45 L2 L34 | L47 L41 L40 | L2 L45 L34 | L45 L46 L2 | L2 L43 L34 L45 | L38 L37 L43
extrude "Extrusion20" add sketch "Sketch15" along normal blind 25.4 contours L18 L20 L19 | L15 L62 L17 | L15 L16 L17 L62
sketch "Sketch16" plane through (0, 0, 2438.4) normal (0, 0, 1) x (1, 0, 0)
  line L0 (5486.4, 914.4) -> (5334, 914.4) projected
  line L1 (5334, -914.4) -> (5486.4, -914.4) projected
  line L2 (5334, 914.4) -> (5486.4, 914.4)
  line L3 (5486.4, 914.4) -> (5486.4, -914.4)
  line L4 (5486.4, -914.4) -> (5334, -914.4)
  line L5 (5334, -914.4) -> (5334, 914.4)
  point P0 (0, 0)
extrude "Extrusion22" cut sketch "Sketch16" against normal up to surface (431.8 mm away)
sketch "Sketch17" plane through (0, 0, 2438.4) normal (0, 0, 1) x (1, 0, 0)
  line L0 (-5334, -2895.6) -> (-5334, 2895.6) projected
  line L1 (-5943.6, 3505.2) -> (-5943.6, -3505.2) projected
  line L2 (-5334, 609.6) -> (-5334, -609.6) projected
  line L3 (-5486.4, 457.2) -> (-5486.4, 609.6) projected
  line L4 (-5334, 457.2) -> (-5486.4, 457.2) projected
  line L5 (-5334, 609.6) -> (-5943.6, 609.6) projected
  line L6 (-5486.4, -457.2) -> (-5334, -457.2) projected
  line L7 (-5486.4, -609.6) -> (-5486.4, -457.2) projected
  line L8 (-5334, -609.6) -> (-5943.6, -609.6) projected
  point P0 (0, 0)
extrude "Extrusion23" cut sketch "Sketch17" against normal up to surface (406.4 mm away) contours L6 L7 L8 L1 L5 L3 L4 L0
sketch "Sketch18" plane through (-5486.4, 457.2, 2438.4) normal (0, -1, 0) x (1, 0, 0)
  line L0 (152.4, 0) -> (152.4, -406.4) projected
  line L1 (0, 0) -> (152.4, 0)
  line L2 (152.4, 0) -> (152.4, -203.2)
  line L3 (152.4, -203.2) -> (0, -203.2)
  line L4 (0, -203.2) -> (0, 0)
  point P0 (5486.4, -2438.4)
extrude "Extrusion24" add sketch "Sketch18" along normal up to surface (914.4 mm away)
extrude "Extrusion25" cut sketch "Sketch15" along normal blind 25.4 contours L18 L20 L19 | L15 L62 L17 | L15 L16 L17 L62
extrude "Extrusion28" add sketch "Sketch15" along normal blind 25.4 contours L7 L62 L15 L54 | L15 L62 L17 | L17 L62 L2 L54
extrude "Extrusion29" cut sketch "Sketch15" against normal blind 25.4 contours L34 L49 L1 | L1 L49 L50 L54 L7 L34 | L49 L34 L47 L1 | L1 L50 L49 | L7 L54 L46 L45 L2 L34 | L47 L41 L40 | L2 L45 L34 | L45 L46 L2 | L2 L43 L34 L45 | L38 L37 L43
extrude "Extrusion30" cut sketch "Sketch15" against normal blind 25.4 contours L25 L12 L13 L7 | L7 L13 L14 | L14 L13 L7 L21 L57 L58 L28 L25 | L13 L12 L25 L32 L31 L5 L21 L7 | L28 L29 L24 L25 | L58 L57 L21 L55 | L25 L5 L31 L32
sketch "Sketch20" plane through (0, 0, 0) normal (0, 0, 1) x (1, 0, 0)
  line L0 (5334, 2895.6) -> (-5334, 2895.6) projected
  line L1 (-5334, 2895.6) -> (-5334, 609.6) projected
  line L2 (-4724.4, 2286) -> (-4060.825, 2286)
  line L3 (-4060.825, 2286) -> (-4060.825, 295.275)
  line L4 (-4060.825, 295.275) -> (-4724.4, 295.275)
  line L5 (-4724.4, 295.275) -> (-4724.4, 2286)
  point P0 (0, 0)
  dimension "d227" = 1990.725
  dimension "d228" = 663.575
  dimension "d229" = 609.6
  dimension "d230" = 609.6
extrude "Extrusion31" add sketch "Sketch15" along normal blind 25.4 contours L18 L20 L19 | L14 L12 L25 | L25 L12 L13 L7 | L7 L13 L14 | L15 L62 L17 | L15 L16 L17 L62 | A1 L63 L68 | L68 L63 A1 | A1 L63 L64 L65 L66 L67 L68
extrude "Burners" add sketch "Sketch20" along normal blind 139.7
sketch "Sketch12" plane through (0, 0, 2438.4) normal (0, 0, 1) x (1, 0, 0)
  line L0 (-5943.6, -3505.2) -> (5943.6, -3505.2) projected
  line L1 (5943.6, -3505.2) -> (5943.6, 3505.2) projected
  line L2 (5943.6, 3505.2) -> (-5943.6, 3505.2) projected
  line L3 (-5943.6, 3505.2) -> (5943.6, 3505.2)
  line L4 (5943.6, 3505.2) -> (5943.6, -2463.8)
  line L5 (5943.6, -2463.8) -> (-5943.6, -2463.8)
  line L6 (-5943.6, -2463.8) -> (-5943.6, 3505.2)
  line L7 (-1054.1, -2006.6) -> (5943.6, -2006.6)
  line L8 (5943.6, -2006.6) -> (5943.6, -3505.2)
  line L9 (5943.6, -3505.2) -> (-1054.1, -3505.2)
  line L10 (-1054.1, -3505.2) -> (-1054.1, -2006.6)
  line L11 (-5943.6, -2463.8) -> (-5181.6, -2463.8)
  line L12 (-5181.6, -2463.8) -> (-5181.6, -3505.2)
  line L13 (-5181.6, -3505.2) -> (-5943.6, -3505.2)
  line L14 (-5943.6, -3505.2) -> (-5943.6, -2463.8)
  line L15 (-1054.1, -2895.6) -> (-5943.6, -2895.6)
  line L16 (-5943.6, -2895.6) -> (-5943.6, -3505.2)
  line L17 (-5943.6, -3505.2) -> (-1054.1, -3505.2)
  line L18 (-1054.1, -3505.2) -> (-1054.1, -2895.6)
  point P0 (0, 0)
properties part number "West_Structure_1st_Floor"
